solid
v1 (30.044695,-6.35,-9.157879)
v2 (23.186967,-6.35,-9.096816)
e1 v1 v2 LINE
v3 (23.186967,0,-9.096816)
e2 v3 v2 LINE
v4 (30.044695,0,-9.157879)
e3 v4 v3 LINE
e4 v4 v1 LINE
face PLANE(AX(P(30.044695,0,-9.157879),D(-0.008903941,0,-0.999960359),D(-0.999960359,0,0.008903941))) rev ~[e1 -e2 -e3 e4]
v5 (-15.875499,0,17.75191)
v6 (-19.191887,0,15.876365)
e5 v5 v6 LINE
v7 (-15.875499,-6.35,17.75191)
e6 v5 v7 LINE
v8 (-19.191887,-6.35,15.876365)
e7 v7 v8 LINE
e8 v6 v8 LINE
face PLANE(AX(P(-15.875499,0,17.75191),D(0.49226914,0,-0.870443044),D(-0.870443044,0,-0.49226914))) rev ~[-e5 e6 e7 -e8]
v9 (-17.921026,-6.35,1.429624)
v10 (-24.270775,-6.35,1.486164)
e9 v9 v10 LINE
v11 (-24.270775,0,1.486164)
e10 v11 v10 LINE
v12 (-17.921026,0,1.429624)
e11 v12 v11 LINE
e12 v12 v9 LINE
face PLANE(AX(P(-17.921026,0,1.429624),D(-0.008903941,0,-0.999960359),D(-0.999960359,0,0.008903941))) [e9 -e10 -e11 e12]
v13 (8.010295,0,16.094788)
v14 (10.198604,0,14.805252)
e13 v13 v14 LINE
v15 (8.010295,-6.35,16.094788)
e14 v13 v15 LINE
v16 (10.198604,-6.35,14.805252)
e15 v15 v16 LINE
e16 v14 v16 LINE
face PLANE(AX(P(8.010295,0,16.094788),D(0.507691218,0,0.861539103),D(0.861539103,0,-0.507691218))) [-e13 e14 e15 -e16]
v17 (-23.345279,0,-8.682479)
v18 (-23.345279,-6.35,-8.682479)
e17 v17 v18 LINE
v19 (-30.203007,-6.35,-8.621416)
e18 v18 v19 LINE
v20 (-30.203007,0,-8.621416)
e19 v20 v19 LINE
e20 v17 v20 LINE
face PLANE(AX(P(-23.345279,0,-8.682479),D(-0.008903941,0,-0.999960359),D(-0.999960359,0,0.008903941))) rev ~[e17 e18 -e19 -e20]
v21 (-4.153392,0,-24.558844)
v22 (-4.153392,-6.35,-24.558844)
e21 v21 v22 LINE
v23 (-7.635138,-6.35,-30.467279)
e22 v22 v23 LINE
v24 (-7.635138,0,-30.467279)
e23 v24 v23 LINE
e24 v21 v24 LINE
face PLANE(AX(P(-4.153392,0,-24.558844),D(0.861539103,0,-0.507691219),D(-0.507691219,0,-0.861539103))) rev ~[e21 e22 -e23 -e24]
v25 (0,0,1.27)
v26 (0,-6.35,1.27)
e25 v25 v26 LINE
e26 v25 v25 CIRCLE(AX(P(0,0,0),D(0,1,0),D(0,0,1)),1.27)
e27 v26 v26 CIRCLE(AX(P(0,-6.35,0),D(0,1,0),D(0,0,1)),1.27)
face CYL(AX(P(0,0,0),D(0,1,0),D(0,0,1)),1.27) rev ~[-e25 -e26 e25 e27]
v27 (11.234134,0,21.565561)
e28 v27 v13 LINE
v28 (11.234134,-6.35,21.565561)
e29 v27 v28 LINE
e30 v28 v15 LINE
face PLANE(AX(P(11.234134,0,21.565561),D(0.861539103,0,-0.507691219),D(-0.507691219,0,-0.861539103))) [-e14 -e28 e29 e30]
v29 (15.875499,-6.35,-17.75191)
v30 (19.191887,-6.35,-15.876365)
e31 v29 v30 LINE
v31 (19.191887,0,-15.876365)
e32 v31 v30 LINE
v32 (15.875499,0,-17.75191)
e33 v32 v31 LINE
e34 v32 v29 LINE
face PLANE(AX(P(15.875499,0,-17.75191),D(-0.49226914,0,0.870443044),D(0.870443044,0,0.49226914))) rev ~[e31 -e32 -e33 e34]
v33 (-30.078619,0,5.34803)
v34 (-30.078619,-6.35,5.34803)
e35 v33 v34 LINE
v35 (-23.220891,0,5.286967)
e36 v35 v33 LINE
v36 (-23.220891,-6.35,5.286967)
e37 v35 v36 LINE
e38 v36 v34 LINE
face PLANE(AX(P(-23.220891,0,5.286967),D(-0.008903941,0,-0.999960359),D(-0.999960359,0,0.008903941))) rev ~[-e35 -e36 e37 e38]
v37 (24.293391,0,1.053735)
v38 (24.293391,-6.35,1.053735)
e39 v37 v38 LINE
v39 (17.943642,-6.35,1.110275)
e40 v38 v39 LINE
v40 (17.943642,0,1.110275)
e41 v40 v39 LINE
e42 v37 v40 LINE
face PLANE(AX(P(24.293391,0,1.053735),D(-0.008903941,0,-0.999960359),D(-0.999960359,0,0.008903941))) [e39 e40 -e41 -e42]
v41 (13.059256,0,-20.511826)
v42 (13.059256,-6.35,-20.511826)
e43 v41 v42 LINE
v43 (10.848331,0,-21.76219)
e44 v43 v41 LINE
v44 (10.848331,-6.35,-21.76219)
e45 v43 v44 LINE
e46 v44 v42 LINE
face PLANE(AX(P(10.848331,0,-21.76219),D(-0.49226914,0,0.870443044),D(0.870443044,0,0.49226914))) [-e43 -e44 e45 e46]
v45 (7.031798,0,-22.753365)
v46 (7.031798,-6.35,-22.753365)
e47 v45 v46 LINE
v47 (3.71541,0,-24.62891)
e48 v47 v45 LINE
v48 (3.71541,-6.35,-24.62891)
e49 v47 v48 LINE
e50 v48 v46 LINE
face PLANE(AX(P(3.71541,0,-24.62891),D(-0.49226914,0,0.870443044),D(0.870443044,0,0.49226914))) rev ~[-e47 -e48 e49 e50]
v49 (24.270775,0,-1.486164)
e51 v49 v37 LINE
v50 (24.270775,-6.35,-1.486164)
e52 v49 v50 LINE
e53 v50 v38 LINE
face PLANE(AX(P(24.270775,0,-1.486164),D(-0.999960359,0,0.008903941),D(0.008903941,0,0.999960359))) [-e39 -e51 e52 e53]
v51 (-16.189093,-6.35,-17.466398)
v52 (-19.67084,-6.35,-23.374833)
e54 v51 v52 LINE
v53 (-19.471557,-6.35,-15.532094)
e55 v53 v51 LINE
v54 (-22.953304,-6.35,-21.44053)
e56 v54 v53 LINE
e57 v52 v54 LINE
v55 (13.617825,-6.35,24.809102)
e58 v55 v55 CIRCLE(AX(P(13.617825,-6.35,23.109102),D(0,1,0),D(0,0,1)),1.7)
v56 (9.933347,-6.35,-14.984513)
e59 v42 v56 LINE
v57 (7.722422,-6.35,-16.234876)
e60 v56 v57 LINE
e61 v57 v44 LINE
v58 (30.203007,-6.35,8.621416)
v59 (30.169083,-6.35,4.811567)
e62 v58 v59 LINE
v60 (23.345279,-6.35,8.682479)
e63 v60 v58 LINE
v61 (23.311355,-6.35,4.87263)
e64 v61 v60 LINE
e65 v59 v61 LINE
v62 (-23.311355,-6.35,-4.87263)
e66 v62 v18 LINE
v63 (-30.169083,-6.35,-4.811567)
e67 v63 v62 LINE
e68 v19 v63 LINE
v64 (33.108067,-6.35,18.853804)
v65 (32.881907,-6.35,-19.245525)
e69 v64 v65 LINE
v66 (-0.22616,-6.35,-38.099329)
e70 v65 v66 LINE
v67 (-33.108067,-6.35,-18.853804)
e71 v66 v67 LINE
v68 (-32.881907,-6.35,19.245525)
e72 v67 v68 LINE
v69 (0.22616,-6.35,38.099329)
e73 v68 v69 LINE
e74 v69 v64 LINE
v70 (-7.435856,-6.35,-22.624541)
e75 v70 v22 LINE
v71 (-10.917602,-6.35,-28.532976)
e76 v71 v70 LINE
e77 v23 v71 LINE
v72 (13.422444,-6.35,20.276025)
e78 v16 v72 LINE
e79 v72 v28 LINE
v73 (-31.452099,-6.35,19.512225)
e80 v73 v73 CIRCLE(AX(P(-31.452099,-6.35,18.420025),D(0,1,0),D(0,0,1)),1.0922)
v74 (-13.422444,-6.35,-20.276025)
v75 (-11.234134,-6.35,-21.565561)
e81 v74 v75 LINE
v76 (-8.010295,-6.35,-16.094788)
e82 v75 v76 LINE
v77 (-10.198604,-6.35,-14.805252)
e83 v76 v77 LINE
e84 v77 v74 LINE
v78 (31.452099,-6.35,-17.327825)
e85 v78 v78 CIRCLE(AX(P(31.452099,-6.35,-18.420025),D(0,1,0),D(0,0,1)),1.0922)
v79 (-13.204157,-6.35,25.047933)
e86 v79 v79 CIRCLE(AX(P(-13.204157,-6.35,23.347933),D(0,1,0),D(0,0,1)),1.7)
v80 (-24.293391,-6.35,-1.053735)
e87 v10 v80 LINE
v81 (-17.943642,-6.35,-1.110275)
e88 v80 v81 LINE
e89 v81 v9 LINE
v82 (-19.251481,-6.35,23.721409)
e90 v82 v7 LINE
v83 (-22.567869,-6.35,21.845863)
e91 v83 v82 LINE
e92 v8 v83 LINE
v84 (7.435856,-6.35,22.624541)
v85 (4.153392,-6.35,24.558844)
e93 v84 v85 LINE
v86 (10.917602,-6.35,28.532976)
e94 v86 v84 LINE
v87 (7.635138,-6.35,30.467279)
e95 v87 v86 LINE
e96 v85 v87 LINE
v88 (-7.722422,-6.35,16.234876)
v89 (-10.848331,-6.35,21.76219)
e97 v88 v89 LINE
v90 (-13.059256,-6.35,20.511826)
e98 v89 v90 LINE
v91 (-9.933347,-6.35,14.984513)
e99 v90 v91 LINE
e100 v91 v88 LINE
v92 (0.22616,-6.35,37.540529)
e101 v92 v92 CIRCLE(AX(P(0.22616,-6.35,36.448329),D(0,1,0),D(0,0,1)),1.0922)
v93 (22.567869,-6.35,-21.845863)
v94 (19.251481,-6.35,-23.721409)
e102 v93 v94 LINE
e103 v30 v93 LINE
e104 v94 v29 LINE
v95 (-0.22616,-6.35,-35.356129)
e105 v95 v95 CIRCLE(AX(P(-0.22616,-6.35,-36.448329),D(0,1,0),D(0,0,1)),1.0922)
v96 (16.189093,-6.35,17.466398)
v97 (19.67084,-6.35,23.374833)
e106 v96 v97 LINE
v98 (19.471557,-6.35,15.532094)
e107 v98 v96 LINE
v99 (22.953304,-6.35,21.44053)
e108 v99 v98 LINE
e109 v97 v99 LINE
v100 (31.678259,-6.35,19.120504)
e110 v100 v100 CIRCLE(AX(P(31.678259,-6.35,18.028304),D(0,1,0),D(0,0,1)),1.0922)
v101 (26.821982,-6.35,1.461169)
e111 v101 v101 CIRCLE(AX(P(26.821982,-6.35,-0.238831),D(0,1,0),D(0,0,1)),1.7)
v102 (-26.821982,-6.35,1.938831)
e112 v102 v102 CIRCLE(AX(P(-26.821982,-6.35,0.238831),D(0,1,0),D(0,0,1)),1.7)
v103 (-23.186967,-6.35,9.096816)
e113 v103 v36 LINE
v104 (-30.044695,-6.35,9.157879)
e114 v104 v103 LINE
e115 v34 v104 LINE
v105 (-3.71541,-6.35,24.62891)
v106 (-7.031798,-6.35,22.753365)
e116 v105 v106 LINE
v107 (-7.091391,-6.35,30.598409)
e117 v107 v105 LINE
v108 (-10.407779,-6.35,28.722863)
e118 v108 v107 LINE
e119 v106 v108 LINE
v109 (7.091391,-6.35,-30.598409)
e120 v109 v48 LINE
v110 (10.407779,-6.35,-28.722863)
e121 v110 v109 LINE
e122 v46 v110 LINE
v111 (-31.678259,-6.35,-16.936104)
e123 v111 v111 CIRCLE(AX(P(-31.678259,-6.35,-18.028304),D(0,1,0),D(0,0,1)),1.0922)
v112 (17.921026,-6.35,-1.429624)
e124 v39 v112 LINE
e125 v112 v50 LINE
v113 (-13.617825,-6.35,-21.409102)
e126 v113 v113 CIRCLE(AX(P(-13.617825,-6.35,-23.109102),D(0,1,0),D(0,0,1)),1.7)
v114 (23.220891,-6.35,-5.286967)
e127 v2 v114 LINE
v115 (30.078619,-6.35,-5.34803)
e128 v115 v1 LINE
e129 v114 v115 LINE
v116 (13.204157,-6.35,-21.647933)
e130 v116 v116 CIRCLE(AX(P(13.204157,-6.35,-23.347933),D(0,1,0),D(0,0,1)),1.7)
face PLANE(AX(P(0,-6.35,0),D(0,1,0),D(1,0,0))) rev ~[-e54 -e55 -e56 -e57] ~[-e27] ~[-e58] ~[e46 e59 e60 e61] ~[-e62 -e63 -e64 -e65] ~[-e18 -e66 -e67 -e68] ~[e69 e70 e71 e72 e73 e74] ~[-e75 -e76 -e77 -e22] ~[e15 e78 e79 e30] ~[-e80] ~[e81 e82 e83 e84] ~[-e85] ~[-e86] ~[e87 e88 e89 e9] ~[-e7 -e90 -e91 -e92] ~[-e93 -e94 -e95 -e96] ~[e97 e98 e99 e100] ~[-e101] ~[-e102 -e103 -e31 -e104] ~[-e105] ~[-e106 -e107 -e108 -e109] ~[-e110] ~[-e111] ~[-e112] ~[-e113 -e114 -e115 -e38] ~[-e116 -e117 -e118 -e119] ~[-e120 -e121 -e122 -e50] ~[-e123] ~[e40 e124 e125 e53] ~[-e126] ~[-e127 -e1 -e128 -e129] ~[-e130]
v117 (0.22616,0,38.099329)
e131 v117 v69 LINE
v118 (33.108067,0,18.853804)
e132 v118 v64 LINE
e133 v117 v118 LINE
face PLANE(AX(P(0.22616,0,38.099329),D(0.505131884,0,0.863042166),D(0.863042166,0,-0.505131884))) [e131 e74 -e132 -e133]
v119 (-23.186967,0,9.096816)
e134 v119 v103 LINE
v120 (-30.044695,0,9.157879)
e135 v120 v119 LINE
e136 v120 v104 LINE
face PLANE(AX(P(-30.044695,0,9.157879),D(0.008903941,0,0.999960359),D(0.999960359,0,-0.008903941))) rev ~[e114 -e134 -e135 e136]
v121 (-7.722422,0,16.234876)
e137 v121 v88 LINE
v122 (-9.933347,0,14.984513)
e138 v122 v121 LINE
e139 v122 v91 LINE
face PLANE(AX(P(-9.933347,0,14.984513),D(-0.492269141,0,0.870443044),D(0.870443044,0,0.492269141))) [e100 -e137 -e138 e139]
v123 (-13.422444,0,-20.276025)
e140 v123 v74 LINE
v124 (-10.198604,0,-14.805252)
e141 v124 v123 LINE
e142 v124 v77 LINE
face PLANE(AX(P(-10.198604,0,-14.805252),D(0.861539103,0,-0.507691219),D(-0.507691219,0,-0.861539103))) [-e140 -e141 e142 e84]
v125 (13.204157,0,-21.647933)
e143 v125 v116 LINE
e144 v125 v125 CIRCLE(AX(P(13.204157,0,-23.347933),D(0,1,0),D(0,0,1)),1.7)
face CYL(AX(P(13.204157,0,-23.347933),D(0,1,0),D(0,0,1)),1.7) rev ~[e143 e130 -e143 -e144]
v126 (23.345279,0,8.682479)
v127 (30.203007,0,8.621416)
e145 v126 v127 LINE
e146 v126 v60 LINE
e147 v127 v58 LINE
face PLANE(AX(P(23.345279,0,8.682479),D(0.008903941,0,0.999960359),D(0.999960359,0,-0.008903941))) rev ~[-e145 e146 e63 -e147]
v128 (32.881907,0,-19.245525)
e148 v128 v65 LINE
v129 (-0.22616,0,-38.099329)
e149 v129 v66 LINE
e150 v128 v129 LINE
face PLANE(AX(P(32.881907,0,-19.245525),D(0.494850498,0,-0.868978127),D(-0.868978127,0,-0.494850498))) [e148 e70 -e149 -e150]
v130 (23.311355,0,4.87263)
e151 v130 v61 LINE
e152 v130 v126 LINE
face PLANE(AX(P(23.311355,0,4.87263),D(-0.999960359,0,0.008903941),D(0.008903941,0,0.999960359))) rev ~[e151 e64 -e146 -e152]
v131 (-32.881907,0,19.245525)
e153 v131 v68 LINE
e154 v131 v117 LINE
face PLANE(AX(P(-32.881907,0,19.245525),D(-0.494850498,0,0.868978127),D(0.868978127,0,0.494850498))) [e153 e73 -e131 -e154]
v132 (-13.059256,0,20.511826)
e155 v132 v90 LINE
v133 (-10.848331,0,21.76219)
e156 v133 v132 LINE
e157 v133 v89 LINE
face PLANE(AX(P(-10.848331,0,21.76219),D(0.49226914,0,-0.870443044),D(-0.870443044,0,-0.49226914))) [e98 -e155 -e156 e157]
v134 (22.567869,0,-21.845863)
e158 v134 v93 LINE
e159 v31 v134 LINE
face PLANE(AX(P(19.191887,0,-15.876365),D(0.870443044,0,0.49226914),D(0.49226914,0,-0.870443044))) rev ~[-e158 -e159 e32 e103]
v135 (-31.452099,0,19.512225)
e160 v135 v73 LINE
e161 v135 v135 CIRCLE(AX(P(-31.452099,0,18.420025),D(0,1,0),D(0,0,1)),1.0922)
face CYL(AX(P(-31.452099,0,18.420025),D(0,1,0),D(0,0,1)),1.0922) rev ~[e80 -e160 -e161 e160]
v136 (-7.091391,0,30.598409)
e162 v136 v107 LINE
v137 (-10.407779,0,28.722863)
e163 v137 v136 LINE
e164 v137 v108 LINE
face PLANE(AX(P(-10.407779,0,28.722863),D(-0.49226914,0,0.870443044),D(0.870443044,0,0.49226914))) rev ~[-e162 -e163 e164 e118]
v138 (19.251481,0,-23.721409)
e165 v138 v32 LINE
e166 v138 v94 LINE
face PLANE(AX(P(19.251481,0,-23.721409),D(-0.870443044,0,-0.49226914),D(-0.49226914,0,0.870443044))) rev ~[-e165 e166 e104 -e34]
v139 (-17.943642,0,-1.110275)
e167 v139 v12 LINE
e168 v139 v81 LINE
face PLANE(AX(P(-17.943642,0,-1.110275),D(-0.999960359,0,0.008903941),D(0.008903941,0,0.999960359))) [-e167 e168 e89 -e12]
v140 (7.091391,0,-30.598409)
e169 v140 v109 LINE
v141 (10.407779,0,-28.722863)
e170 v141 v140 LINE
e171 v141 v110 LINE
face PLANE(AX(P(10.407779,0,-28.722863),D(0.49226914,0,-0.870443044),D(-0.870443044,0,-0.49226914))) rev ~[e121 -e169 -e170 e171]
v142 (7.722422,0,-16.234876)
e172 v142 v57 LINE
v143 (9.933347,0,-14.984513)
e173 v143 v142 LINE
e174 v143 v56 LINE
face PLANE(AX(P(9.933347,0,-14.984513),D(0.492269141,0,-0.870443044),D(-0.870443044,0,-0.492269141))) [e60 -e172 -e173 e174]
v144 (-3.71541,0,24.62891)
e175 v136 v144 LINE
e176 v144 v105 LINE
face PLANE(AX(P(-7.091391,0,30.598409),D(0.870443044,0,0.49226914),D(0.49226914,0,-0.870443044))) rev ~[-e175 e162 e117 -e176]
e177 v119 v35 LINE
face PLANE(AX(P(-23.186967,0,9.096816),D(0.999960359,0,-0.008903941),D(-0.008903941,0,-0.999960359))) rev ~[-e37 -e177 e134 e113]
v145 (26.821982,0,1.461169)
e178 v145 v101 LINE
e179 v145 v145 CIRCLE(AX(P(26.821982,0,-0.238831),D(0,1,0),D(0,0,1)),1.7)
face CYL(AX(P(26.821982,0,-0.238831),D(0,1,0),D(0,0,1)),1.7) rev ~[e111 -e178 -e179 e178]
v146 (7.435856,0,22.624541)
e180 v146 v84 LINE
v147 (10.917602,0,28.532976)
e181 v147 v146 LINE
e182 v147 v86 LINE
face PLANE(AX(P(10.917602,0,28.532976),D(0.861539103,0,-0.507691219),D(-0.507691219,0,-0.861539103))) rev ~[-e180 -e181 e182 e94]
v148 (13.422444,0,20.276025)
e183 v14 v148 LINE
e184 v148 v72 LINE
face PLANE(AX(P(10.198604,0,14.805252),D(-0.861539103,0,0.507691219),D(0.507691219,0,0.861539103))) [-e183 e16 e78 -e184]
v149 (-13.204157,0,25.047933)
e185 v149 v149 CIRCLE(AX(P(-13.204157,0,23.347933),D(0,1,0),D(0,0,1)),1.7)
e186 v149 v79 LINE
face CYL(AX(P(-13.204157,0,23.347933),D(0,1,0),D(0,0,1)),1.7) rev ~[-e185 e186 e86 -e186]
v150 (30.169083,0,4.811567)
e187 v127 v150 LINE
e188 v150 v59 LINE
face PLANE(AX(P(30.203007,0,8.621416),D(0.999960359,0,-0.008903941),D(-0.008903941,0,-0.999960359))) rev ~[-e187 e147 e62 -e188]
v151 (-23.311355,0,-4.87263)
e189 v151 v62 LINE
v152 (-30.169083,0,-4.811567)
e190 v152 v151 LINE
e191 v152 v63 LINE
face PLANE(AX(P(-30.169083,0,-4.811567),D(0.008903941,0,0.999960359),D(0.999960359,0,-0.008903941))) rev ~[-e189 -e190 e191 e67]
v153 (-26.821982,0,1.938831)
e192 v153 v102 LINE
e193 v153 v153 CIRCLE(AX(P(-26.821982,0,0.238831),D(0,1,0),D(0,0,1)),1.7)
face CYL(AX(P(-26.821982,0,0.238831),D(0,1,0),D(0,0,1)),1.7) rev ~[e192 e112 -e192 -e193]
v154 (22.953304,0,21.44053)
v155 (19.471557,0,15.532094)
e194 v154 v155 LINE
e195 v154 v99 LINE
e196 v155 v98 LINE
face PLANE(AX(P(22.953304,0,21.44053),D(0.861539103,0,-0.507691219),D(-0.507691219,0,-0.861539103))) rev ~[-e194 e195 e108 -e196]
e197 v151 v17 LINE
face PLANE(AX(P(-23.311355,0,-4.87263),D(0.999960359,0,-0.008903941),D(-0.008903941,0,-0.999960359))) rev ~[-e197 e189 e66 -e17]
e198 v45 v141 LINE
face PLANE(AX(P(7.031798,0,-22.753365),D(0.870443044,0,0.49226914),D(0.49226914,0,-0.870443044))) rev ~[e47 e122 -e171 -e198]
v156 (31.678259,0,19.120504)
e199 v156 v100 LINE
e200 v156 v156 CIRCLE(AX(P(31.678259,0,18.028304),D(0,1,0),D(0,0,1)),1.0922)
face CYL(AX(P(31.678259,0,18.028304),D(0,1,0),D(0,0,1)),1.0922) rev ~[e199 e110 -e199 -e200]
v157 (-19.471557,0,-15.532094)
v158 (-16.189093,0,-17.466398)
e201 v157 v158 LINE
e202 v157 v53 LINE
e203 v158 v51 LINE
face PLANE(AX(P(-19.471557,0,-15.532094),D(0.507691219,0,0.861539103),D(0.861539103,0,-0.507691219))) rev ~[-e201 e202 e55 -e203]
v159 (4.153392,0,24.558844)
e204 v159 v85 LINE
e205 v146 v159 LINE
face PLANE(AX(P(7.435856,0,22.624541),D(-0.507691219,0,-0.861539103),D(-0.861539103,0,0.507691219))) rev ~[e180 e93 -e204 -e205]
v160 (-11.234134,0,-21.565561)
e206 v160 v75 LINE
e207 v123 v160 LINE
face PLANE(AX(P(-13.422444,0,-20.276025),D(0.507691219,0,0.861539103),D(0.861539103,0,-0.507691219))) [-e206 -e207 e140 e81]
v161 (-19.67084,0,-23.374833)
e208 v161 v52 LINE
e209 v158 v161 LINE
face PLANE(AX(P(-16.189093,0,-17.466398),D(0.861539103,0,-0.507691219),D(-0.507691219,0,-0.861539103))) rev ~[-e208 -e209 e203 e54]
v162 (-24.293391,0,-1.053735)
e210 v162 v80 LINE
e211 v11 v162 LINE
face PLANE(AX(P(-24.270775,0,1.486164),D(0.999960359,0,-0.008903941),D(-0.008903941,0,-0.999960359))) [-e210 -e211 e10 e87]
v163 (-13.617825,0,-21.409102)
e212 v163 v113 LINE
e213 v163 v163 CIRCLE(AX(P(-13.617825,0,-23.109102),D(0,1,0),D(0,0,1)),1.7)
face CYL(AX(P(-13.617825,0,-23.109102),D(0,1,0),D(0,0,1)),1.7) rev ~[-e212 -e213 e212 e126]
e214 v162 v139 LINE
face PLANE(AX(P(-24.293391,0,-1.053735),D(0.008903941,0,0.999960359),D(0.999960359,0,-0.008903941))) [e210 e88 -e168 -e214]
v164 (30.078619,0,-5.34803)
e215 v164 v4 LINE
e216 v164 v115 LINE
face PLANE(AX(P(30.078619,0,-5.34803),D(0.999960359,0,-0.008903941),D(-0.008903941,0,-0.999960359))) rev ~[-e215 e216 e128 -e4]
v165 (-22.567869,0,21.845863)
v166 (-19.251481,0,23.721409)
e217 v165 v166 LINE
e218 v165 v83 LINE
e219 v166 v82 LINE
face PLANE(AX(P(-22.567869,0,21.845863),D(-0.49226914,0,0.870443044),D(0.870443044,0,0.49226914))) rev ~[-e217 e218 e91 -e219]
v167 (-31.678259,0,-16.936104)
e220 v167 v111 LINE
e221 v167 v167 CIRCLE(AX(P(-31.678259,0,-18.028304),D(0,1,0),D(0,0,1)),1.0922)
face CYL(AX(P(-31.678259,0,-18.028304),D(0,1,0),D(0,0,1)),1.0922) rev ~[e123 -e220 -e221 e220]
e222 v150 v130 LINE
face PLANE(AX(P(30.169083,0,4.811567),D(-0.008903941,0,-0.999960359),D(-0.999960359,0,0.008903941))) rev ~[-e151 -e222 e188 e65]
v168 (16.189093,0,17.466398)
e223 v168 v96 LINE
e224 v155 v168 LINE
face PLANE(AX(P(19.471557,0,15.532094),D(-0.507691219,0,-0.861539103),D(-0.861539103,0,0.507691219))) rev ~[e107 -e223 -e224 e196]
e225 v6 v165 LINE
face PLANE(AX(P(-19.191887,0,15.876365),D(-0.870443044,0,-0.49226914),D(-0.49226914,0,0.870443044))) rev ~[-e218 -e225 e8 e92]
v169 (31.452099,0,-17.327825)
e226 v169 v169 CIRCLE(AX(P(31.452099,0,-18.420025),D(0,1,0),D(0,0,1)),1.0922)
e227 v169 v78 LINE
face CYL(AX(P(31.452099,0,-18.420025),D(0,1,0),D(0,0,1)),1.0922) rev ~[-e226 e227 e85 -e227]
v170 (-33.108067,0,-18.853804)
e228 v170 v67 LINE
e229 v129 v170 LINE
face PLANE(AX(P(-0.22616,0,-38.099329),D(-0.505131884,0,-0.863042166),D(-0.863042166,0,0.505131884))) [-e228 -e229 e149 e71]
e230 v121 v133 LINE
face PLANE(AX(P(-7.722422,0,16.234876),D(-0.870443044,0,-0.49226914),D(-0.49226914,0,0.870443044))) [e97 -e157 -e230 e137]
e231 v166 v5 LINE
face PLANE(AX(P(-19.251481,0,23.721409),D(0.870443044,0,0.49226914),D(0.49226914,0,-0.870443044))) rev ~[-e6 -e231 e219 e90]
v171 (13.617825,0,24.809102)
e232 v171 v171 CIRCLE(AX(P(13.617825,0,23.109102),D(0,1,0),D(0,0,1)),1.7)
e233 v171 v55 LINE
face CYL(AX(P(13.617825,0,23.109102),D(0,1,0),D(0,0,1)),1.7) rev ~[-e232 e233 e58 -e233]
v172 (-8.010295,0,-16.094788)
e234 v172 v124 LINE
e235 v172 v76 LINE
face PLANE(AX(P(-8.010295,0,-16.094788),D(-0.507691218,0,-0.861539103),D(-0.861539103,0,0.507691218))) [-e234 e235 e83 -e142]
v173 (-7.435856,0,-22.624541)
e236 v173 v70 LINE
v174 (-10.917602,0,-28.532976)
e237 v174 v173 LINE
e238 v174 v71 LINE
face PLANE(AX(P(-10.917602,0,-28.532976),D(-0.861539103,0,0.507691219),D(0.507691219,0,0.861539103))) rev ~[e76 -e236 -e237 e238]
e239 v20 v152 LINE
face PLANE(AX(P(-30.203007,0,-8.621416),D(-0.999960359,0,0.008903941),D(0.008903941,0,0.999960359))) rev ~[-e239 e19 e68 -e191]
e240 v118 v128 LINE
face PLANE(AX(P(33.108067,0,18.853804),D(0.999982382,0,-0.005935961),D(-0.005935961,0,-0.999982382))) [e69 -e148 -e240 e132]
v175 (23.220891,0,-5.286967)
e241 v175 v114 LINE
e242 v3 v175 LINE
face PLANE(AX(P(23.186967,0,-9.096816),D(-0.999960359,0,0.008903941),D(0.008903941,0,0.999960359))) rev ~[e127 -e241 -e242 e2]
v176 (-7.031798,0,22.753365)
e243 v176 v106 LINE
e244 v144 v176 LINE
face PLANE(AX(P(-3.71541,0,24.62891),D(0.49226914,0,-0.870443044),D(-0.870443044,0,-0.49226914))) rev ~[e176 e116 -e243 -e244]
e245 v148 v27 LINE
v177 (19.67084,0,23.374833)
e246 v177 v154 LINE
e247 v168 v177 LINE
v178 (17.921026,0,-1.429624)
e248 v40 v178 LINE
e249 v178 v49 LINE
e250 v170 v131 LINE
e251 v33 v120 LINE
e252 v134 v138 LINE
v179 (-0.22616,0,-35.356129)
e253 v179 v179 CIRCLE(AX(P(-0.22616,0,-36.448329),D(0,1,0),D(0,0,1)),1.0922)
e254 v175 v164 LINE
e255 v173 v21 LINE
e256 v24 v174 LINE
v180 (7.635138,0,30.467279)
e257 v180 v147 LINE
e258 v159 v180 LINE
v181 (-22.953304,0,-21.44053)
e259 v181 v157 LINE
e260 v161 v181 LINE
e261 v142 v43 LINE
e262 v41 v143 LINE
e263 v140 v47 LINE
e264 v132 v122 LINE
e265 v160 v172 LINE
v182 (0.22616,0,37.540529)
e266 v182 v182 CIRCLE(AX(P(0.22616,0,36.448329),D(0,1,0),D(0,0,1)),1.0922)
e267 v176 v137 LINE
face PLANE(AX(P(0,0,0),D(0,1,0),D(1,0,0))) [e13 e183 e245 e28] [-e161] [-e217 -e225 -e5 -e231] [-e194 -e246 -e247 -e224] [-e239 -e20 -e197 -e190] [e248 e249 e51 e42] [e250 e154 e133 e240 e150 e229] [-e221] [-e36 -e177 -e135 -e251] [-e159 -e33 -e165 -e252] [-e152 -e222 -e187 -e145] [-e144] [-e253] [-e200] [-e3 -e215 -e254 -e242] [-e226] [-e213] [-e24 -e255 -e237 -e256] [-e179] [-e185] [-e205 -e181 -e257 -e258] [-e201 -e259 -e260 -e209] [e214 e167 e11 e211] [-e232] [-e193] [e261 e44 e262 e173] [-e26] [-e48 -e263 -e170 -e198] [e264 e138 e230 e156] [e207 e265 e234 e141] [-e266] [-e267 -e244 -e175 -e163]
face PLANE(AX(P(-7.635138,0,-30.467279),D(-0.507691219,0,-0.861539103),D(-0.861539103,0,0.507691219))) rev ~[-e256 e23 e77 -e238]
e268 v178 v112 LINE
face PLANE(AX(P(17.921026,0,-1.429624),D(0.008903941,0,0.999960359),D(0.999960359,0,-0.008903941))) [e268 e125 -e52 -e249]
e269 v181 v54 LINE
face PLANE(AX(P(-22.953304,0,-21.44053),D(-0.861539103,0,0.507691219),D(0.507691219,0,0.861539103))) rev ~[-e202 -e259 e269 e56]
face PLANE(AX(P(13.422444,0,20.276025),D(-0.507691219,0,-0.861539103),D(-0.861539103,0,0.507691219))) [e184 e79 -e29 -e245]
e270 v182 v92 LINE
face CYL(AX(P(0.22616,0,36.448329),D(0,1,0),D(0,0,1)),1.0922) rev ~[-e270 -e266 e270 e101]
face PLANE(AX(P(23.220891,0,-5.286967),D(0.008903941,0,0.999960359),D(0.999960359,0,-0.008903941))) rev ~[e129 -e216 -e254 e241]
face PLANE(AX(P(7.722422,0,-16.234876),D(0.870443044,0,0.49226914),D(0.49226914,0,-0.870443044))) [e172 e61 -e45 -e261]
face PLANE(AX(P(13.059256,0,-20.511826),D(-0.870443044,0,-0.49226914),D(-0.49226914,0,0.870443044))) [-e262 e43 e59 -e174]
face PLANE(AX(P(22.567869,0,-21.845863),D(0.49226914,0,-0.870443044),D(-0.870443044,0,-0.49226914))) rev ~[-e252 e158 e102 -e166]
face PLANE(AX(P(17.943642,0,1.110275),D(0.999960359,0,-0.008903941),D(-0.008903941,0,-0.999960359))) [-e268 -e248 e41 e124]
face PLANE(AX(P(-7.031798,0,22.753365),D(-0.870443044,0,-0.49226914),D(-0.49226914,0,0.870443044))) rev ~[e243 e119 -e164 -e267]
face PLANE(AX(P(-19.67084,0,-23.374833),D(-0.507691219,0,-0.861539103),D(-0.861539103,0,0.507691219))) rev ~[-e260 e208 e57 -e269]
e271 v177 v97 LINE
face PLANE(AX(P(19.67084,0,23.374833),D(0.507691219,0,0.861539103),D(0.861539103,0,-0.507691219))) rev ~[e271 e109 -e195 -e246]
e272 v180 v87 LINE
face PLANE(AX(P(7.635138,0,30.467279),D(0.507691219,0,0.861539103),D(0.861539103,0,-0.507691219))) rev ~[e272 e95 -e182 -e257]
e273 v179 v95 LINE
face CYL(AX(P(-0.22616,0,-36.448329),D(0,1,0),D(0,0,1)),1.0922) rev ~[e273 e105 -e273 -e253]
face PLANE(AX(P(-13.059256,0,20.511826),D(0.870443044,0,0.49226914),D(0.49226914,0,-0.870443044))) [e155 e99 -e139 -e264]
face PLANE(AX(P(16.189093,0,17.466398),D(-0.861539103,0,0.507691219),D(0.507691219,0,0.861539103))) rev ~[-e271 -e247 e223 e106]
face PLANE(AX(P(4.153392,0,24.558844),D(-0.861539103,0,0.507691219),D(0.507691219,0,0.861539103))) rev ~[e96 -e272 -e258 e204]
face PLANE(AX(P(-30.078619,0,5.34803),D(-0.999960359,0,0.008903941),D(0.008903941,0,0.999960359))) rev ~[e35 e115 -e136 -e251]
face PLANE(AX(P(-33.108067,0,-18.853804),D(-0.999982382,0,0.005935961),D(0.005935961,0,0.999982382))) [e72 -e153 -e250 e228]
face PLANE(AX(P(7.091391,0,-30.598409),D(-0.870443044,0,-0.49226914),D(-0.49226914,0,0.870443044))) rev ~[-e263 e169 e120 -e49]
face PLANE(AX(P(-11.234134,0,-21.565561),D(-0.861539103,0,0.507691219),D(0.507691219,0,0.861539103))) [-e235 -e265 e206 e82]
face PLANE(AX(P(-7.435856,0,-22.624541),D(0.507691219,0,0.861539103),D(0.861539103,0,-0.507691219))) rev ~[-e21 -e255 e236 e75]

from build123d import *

# Parameters (mm, degrees)
SKETCH1_R           = 1.7
SKETCH1_R_2         = 1.0922
SKETCH1_R_3         = 1.27
BOSS_EXTRUDE1_DEPTH = 6.35


with BuildPart() as part:
    # Sketch1 → Boss-Extrude1 (new body)
    with BuildSketch(Plane(origin=(0, 0, 0), x_dir=(1, 0, 0), z_dir=(0, 1, 0))):
        Polygon((33.108066621, -18.853803983), (32.881906518, 19.245524772), (-0.226160103, 38.099328755), (-33.108066621, 18.853803983), (-32.881906518, -19.245524772), (0.226160103, -38.099328755), align=None)
        Polygon((17.921026369, 1.429624434), (24.27077465, 1.48616446), (24.29339066, -1.053734852), (17.94364238, -1.110274878), align=None, mode=Mode.SUBTRACT)
        Polygon((10.198604263, -14.805251881), (13.422443502, -20.276025186), (11.234134179, -21.565560882), (8.01029494, -16.094787576), align=None, mode=Mode.SUBTRACT)
        Polygon((-7.722422107, -16.234876315), (-10.848331148, -21.762189646), (-13.059256481, -20.51182603), (-9.933347439, -14.984512698), align=None, mode=Mode.SUBTRACT)
        Polygon((-17.921026369, -1.429624434), (-24.27077465, -1.48616446), (-24.29339066, 1.053734852), (-17.94364238, 1.110274878), align=None, mode=Mode.SUBTRACT)
        Polygon((-10.198604263, 14.805251881), (-13.422443502, 20.276025186), (-11.234134179, 21.565560882), (-8.01029494, 16.094787576), align=None, mode=Mode.SUBTRACT)
        Polygon((7.722422107, 16.234876315), (10.848331148, 21.762189646), (13.059256481, 20.51182603), (9.933347439, 14.984512698), align=None, mode=Mode.SUBTRACT)
        Polygon((-19.191887032, -15.876365047), (-15.875499033, -17.751910472), (-19.251480798, -23.72140887), (-22.567868797, -21.845863445), align=None, mode=Mode.SUBTRACT)
        with Locations((-13.204157431, -23.347933171)):
            Circle(SKETCH1_R, mode=Mode.SUBTRACT)
        Polygon((-7.031797703, -22.753364938), (-3.715409704, -24.628910363), (-7.091391469, -30.598408761), (-10.407779468, -28.722863336), align=None, mode=Mode.SUBTRACT)
        with Locations((-31.452098576, -18.420024772)):
            Circle(SKETCH1_R_2, mode=Mode.SUBTRACT)
        Polygon((-23.22089091, -5.286967024), (-23.186966894, -9.096815993), (-30.044695037, -9.15787922), (-30.078619053, -5.348030252), align=None, mode=Mode.SUBTRACT)
        with Locations((-26.821981967, -0.238830814)):
            Circle(SKETCH1_R, mode=Mode.SUBTRACT)
        with Locations((0.226160103, -36.448328755)):
            Circle(SKETCH1_R_2, mode=Mode.SUBTRACT)
        Polygon((4.153391934, -24.55884424), (7.435855918, -22.624540696), (10.917602296, -28.532975866), (7.635138312, -30.46727941), align=None, mode=Mode.SUBTRACT)
        with Locations((13.617824536, -23.109102356)):
            Circle(SKETCH1_R, mode=Mode.SUBTRACT)
        Polygon((16.189093207, -17.466397914), (19.47155719, -15.532094371), (22.953303568, -21.440529541), (19.670839585, -23.374833084), align=None, mode=Mode.SUBTRACT)
        with Locations((31.678258679, -18.028303983)):
            Circle(SKETCH1_R_2, mode=Mode.SUBTRACT)
        Polygon((23.345278966, -8.682479193), (23.311354951, -4.872630224), (30.169083094, -4.811566997), (30.203007109, -8.621415965), align=None, mode=Mode.SUBTRACT)
        Polygon((-23.345278966, 8.682479193), (-23.311354951, 4.872630224), (-30.169083094, 4.811566997), (-30.203007109, 8.621415965), align=None, mode=Mode.SUBTRACT)
        with Locations((-31.678258679, 18.028303983)):
            Circle(SKETCH1_R_2, mode=Mode.SUBTRACT)
        Polygon((30.044695037, 9.15787922), (30.078619053, 5.348030252), (23.22089091, 5.286967024), (23.186966894, 9.096815993), align=None, mode=Mode.SUBTRACT)
        with Locations((31.452098576, 18.420024772)):
            Circle(SKETCH1_R_2, mode=Mode.SUBTRACT)
        Polygon((7.031797703, 22.753364938), (3.715409704, 24.628910363), (7.091391469, 30.598408761), (10.407779468, 28.722863336), align=None, mode=Mode.SUBTRACT)
        with Locations((13.204157431, 23.347933171)):
            Circle(SKETCH1_R, mode=Mode.SUBTRACT)
        Polygon((19.191887032, 15.876365047), (15.875499033, 17.751910472), (19.251480798, 23.72140887), (22.567868797, 21.845863445), align=None, mode=Mode.SUBTRACT)
        Polygon((-16.189093207, 17.466397914), (-19.47155719, 15.532094371), (-22.953303568, 21.440529541), (-19.670839585, 23.374833084), align=None, mode=Mode.SUBTRACT)
        with Locations((-13.617824536, 23.109102356)):
            Circle(SKETCH1_R, mode=Mode.SUBTRACT)
        Polygon((-7.435855918, 22.624540696), (-10.917602296, 28.532975866), (-7.635138312, 30.46727941), (-4.153391934, 24.55884424), align=None, mode=Mode.SUBTRACT)
        with Locations((-0.226160103, 36.448328755)):
            Circle(SKETCH1_R_2, mode=Mode.SUBTRACT)
        with Locations((26.821981967, 0.238830814)):
            Circle(SKETCH1_R, mode=Mode.SUBTRACT)
        Circle(SKETCH1_R_3, mode=Mode.SUBTRACT)
    extrude(amount=-BOSS_EXTRUDE1_DEPTH)


solid = part.part
